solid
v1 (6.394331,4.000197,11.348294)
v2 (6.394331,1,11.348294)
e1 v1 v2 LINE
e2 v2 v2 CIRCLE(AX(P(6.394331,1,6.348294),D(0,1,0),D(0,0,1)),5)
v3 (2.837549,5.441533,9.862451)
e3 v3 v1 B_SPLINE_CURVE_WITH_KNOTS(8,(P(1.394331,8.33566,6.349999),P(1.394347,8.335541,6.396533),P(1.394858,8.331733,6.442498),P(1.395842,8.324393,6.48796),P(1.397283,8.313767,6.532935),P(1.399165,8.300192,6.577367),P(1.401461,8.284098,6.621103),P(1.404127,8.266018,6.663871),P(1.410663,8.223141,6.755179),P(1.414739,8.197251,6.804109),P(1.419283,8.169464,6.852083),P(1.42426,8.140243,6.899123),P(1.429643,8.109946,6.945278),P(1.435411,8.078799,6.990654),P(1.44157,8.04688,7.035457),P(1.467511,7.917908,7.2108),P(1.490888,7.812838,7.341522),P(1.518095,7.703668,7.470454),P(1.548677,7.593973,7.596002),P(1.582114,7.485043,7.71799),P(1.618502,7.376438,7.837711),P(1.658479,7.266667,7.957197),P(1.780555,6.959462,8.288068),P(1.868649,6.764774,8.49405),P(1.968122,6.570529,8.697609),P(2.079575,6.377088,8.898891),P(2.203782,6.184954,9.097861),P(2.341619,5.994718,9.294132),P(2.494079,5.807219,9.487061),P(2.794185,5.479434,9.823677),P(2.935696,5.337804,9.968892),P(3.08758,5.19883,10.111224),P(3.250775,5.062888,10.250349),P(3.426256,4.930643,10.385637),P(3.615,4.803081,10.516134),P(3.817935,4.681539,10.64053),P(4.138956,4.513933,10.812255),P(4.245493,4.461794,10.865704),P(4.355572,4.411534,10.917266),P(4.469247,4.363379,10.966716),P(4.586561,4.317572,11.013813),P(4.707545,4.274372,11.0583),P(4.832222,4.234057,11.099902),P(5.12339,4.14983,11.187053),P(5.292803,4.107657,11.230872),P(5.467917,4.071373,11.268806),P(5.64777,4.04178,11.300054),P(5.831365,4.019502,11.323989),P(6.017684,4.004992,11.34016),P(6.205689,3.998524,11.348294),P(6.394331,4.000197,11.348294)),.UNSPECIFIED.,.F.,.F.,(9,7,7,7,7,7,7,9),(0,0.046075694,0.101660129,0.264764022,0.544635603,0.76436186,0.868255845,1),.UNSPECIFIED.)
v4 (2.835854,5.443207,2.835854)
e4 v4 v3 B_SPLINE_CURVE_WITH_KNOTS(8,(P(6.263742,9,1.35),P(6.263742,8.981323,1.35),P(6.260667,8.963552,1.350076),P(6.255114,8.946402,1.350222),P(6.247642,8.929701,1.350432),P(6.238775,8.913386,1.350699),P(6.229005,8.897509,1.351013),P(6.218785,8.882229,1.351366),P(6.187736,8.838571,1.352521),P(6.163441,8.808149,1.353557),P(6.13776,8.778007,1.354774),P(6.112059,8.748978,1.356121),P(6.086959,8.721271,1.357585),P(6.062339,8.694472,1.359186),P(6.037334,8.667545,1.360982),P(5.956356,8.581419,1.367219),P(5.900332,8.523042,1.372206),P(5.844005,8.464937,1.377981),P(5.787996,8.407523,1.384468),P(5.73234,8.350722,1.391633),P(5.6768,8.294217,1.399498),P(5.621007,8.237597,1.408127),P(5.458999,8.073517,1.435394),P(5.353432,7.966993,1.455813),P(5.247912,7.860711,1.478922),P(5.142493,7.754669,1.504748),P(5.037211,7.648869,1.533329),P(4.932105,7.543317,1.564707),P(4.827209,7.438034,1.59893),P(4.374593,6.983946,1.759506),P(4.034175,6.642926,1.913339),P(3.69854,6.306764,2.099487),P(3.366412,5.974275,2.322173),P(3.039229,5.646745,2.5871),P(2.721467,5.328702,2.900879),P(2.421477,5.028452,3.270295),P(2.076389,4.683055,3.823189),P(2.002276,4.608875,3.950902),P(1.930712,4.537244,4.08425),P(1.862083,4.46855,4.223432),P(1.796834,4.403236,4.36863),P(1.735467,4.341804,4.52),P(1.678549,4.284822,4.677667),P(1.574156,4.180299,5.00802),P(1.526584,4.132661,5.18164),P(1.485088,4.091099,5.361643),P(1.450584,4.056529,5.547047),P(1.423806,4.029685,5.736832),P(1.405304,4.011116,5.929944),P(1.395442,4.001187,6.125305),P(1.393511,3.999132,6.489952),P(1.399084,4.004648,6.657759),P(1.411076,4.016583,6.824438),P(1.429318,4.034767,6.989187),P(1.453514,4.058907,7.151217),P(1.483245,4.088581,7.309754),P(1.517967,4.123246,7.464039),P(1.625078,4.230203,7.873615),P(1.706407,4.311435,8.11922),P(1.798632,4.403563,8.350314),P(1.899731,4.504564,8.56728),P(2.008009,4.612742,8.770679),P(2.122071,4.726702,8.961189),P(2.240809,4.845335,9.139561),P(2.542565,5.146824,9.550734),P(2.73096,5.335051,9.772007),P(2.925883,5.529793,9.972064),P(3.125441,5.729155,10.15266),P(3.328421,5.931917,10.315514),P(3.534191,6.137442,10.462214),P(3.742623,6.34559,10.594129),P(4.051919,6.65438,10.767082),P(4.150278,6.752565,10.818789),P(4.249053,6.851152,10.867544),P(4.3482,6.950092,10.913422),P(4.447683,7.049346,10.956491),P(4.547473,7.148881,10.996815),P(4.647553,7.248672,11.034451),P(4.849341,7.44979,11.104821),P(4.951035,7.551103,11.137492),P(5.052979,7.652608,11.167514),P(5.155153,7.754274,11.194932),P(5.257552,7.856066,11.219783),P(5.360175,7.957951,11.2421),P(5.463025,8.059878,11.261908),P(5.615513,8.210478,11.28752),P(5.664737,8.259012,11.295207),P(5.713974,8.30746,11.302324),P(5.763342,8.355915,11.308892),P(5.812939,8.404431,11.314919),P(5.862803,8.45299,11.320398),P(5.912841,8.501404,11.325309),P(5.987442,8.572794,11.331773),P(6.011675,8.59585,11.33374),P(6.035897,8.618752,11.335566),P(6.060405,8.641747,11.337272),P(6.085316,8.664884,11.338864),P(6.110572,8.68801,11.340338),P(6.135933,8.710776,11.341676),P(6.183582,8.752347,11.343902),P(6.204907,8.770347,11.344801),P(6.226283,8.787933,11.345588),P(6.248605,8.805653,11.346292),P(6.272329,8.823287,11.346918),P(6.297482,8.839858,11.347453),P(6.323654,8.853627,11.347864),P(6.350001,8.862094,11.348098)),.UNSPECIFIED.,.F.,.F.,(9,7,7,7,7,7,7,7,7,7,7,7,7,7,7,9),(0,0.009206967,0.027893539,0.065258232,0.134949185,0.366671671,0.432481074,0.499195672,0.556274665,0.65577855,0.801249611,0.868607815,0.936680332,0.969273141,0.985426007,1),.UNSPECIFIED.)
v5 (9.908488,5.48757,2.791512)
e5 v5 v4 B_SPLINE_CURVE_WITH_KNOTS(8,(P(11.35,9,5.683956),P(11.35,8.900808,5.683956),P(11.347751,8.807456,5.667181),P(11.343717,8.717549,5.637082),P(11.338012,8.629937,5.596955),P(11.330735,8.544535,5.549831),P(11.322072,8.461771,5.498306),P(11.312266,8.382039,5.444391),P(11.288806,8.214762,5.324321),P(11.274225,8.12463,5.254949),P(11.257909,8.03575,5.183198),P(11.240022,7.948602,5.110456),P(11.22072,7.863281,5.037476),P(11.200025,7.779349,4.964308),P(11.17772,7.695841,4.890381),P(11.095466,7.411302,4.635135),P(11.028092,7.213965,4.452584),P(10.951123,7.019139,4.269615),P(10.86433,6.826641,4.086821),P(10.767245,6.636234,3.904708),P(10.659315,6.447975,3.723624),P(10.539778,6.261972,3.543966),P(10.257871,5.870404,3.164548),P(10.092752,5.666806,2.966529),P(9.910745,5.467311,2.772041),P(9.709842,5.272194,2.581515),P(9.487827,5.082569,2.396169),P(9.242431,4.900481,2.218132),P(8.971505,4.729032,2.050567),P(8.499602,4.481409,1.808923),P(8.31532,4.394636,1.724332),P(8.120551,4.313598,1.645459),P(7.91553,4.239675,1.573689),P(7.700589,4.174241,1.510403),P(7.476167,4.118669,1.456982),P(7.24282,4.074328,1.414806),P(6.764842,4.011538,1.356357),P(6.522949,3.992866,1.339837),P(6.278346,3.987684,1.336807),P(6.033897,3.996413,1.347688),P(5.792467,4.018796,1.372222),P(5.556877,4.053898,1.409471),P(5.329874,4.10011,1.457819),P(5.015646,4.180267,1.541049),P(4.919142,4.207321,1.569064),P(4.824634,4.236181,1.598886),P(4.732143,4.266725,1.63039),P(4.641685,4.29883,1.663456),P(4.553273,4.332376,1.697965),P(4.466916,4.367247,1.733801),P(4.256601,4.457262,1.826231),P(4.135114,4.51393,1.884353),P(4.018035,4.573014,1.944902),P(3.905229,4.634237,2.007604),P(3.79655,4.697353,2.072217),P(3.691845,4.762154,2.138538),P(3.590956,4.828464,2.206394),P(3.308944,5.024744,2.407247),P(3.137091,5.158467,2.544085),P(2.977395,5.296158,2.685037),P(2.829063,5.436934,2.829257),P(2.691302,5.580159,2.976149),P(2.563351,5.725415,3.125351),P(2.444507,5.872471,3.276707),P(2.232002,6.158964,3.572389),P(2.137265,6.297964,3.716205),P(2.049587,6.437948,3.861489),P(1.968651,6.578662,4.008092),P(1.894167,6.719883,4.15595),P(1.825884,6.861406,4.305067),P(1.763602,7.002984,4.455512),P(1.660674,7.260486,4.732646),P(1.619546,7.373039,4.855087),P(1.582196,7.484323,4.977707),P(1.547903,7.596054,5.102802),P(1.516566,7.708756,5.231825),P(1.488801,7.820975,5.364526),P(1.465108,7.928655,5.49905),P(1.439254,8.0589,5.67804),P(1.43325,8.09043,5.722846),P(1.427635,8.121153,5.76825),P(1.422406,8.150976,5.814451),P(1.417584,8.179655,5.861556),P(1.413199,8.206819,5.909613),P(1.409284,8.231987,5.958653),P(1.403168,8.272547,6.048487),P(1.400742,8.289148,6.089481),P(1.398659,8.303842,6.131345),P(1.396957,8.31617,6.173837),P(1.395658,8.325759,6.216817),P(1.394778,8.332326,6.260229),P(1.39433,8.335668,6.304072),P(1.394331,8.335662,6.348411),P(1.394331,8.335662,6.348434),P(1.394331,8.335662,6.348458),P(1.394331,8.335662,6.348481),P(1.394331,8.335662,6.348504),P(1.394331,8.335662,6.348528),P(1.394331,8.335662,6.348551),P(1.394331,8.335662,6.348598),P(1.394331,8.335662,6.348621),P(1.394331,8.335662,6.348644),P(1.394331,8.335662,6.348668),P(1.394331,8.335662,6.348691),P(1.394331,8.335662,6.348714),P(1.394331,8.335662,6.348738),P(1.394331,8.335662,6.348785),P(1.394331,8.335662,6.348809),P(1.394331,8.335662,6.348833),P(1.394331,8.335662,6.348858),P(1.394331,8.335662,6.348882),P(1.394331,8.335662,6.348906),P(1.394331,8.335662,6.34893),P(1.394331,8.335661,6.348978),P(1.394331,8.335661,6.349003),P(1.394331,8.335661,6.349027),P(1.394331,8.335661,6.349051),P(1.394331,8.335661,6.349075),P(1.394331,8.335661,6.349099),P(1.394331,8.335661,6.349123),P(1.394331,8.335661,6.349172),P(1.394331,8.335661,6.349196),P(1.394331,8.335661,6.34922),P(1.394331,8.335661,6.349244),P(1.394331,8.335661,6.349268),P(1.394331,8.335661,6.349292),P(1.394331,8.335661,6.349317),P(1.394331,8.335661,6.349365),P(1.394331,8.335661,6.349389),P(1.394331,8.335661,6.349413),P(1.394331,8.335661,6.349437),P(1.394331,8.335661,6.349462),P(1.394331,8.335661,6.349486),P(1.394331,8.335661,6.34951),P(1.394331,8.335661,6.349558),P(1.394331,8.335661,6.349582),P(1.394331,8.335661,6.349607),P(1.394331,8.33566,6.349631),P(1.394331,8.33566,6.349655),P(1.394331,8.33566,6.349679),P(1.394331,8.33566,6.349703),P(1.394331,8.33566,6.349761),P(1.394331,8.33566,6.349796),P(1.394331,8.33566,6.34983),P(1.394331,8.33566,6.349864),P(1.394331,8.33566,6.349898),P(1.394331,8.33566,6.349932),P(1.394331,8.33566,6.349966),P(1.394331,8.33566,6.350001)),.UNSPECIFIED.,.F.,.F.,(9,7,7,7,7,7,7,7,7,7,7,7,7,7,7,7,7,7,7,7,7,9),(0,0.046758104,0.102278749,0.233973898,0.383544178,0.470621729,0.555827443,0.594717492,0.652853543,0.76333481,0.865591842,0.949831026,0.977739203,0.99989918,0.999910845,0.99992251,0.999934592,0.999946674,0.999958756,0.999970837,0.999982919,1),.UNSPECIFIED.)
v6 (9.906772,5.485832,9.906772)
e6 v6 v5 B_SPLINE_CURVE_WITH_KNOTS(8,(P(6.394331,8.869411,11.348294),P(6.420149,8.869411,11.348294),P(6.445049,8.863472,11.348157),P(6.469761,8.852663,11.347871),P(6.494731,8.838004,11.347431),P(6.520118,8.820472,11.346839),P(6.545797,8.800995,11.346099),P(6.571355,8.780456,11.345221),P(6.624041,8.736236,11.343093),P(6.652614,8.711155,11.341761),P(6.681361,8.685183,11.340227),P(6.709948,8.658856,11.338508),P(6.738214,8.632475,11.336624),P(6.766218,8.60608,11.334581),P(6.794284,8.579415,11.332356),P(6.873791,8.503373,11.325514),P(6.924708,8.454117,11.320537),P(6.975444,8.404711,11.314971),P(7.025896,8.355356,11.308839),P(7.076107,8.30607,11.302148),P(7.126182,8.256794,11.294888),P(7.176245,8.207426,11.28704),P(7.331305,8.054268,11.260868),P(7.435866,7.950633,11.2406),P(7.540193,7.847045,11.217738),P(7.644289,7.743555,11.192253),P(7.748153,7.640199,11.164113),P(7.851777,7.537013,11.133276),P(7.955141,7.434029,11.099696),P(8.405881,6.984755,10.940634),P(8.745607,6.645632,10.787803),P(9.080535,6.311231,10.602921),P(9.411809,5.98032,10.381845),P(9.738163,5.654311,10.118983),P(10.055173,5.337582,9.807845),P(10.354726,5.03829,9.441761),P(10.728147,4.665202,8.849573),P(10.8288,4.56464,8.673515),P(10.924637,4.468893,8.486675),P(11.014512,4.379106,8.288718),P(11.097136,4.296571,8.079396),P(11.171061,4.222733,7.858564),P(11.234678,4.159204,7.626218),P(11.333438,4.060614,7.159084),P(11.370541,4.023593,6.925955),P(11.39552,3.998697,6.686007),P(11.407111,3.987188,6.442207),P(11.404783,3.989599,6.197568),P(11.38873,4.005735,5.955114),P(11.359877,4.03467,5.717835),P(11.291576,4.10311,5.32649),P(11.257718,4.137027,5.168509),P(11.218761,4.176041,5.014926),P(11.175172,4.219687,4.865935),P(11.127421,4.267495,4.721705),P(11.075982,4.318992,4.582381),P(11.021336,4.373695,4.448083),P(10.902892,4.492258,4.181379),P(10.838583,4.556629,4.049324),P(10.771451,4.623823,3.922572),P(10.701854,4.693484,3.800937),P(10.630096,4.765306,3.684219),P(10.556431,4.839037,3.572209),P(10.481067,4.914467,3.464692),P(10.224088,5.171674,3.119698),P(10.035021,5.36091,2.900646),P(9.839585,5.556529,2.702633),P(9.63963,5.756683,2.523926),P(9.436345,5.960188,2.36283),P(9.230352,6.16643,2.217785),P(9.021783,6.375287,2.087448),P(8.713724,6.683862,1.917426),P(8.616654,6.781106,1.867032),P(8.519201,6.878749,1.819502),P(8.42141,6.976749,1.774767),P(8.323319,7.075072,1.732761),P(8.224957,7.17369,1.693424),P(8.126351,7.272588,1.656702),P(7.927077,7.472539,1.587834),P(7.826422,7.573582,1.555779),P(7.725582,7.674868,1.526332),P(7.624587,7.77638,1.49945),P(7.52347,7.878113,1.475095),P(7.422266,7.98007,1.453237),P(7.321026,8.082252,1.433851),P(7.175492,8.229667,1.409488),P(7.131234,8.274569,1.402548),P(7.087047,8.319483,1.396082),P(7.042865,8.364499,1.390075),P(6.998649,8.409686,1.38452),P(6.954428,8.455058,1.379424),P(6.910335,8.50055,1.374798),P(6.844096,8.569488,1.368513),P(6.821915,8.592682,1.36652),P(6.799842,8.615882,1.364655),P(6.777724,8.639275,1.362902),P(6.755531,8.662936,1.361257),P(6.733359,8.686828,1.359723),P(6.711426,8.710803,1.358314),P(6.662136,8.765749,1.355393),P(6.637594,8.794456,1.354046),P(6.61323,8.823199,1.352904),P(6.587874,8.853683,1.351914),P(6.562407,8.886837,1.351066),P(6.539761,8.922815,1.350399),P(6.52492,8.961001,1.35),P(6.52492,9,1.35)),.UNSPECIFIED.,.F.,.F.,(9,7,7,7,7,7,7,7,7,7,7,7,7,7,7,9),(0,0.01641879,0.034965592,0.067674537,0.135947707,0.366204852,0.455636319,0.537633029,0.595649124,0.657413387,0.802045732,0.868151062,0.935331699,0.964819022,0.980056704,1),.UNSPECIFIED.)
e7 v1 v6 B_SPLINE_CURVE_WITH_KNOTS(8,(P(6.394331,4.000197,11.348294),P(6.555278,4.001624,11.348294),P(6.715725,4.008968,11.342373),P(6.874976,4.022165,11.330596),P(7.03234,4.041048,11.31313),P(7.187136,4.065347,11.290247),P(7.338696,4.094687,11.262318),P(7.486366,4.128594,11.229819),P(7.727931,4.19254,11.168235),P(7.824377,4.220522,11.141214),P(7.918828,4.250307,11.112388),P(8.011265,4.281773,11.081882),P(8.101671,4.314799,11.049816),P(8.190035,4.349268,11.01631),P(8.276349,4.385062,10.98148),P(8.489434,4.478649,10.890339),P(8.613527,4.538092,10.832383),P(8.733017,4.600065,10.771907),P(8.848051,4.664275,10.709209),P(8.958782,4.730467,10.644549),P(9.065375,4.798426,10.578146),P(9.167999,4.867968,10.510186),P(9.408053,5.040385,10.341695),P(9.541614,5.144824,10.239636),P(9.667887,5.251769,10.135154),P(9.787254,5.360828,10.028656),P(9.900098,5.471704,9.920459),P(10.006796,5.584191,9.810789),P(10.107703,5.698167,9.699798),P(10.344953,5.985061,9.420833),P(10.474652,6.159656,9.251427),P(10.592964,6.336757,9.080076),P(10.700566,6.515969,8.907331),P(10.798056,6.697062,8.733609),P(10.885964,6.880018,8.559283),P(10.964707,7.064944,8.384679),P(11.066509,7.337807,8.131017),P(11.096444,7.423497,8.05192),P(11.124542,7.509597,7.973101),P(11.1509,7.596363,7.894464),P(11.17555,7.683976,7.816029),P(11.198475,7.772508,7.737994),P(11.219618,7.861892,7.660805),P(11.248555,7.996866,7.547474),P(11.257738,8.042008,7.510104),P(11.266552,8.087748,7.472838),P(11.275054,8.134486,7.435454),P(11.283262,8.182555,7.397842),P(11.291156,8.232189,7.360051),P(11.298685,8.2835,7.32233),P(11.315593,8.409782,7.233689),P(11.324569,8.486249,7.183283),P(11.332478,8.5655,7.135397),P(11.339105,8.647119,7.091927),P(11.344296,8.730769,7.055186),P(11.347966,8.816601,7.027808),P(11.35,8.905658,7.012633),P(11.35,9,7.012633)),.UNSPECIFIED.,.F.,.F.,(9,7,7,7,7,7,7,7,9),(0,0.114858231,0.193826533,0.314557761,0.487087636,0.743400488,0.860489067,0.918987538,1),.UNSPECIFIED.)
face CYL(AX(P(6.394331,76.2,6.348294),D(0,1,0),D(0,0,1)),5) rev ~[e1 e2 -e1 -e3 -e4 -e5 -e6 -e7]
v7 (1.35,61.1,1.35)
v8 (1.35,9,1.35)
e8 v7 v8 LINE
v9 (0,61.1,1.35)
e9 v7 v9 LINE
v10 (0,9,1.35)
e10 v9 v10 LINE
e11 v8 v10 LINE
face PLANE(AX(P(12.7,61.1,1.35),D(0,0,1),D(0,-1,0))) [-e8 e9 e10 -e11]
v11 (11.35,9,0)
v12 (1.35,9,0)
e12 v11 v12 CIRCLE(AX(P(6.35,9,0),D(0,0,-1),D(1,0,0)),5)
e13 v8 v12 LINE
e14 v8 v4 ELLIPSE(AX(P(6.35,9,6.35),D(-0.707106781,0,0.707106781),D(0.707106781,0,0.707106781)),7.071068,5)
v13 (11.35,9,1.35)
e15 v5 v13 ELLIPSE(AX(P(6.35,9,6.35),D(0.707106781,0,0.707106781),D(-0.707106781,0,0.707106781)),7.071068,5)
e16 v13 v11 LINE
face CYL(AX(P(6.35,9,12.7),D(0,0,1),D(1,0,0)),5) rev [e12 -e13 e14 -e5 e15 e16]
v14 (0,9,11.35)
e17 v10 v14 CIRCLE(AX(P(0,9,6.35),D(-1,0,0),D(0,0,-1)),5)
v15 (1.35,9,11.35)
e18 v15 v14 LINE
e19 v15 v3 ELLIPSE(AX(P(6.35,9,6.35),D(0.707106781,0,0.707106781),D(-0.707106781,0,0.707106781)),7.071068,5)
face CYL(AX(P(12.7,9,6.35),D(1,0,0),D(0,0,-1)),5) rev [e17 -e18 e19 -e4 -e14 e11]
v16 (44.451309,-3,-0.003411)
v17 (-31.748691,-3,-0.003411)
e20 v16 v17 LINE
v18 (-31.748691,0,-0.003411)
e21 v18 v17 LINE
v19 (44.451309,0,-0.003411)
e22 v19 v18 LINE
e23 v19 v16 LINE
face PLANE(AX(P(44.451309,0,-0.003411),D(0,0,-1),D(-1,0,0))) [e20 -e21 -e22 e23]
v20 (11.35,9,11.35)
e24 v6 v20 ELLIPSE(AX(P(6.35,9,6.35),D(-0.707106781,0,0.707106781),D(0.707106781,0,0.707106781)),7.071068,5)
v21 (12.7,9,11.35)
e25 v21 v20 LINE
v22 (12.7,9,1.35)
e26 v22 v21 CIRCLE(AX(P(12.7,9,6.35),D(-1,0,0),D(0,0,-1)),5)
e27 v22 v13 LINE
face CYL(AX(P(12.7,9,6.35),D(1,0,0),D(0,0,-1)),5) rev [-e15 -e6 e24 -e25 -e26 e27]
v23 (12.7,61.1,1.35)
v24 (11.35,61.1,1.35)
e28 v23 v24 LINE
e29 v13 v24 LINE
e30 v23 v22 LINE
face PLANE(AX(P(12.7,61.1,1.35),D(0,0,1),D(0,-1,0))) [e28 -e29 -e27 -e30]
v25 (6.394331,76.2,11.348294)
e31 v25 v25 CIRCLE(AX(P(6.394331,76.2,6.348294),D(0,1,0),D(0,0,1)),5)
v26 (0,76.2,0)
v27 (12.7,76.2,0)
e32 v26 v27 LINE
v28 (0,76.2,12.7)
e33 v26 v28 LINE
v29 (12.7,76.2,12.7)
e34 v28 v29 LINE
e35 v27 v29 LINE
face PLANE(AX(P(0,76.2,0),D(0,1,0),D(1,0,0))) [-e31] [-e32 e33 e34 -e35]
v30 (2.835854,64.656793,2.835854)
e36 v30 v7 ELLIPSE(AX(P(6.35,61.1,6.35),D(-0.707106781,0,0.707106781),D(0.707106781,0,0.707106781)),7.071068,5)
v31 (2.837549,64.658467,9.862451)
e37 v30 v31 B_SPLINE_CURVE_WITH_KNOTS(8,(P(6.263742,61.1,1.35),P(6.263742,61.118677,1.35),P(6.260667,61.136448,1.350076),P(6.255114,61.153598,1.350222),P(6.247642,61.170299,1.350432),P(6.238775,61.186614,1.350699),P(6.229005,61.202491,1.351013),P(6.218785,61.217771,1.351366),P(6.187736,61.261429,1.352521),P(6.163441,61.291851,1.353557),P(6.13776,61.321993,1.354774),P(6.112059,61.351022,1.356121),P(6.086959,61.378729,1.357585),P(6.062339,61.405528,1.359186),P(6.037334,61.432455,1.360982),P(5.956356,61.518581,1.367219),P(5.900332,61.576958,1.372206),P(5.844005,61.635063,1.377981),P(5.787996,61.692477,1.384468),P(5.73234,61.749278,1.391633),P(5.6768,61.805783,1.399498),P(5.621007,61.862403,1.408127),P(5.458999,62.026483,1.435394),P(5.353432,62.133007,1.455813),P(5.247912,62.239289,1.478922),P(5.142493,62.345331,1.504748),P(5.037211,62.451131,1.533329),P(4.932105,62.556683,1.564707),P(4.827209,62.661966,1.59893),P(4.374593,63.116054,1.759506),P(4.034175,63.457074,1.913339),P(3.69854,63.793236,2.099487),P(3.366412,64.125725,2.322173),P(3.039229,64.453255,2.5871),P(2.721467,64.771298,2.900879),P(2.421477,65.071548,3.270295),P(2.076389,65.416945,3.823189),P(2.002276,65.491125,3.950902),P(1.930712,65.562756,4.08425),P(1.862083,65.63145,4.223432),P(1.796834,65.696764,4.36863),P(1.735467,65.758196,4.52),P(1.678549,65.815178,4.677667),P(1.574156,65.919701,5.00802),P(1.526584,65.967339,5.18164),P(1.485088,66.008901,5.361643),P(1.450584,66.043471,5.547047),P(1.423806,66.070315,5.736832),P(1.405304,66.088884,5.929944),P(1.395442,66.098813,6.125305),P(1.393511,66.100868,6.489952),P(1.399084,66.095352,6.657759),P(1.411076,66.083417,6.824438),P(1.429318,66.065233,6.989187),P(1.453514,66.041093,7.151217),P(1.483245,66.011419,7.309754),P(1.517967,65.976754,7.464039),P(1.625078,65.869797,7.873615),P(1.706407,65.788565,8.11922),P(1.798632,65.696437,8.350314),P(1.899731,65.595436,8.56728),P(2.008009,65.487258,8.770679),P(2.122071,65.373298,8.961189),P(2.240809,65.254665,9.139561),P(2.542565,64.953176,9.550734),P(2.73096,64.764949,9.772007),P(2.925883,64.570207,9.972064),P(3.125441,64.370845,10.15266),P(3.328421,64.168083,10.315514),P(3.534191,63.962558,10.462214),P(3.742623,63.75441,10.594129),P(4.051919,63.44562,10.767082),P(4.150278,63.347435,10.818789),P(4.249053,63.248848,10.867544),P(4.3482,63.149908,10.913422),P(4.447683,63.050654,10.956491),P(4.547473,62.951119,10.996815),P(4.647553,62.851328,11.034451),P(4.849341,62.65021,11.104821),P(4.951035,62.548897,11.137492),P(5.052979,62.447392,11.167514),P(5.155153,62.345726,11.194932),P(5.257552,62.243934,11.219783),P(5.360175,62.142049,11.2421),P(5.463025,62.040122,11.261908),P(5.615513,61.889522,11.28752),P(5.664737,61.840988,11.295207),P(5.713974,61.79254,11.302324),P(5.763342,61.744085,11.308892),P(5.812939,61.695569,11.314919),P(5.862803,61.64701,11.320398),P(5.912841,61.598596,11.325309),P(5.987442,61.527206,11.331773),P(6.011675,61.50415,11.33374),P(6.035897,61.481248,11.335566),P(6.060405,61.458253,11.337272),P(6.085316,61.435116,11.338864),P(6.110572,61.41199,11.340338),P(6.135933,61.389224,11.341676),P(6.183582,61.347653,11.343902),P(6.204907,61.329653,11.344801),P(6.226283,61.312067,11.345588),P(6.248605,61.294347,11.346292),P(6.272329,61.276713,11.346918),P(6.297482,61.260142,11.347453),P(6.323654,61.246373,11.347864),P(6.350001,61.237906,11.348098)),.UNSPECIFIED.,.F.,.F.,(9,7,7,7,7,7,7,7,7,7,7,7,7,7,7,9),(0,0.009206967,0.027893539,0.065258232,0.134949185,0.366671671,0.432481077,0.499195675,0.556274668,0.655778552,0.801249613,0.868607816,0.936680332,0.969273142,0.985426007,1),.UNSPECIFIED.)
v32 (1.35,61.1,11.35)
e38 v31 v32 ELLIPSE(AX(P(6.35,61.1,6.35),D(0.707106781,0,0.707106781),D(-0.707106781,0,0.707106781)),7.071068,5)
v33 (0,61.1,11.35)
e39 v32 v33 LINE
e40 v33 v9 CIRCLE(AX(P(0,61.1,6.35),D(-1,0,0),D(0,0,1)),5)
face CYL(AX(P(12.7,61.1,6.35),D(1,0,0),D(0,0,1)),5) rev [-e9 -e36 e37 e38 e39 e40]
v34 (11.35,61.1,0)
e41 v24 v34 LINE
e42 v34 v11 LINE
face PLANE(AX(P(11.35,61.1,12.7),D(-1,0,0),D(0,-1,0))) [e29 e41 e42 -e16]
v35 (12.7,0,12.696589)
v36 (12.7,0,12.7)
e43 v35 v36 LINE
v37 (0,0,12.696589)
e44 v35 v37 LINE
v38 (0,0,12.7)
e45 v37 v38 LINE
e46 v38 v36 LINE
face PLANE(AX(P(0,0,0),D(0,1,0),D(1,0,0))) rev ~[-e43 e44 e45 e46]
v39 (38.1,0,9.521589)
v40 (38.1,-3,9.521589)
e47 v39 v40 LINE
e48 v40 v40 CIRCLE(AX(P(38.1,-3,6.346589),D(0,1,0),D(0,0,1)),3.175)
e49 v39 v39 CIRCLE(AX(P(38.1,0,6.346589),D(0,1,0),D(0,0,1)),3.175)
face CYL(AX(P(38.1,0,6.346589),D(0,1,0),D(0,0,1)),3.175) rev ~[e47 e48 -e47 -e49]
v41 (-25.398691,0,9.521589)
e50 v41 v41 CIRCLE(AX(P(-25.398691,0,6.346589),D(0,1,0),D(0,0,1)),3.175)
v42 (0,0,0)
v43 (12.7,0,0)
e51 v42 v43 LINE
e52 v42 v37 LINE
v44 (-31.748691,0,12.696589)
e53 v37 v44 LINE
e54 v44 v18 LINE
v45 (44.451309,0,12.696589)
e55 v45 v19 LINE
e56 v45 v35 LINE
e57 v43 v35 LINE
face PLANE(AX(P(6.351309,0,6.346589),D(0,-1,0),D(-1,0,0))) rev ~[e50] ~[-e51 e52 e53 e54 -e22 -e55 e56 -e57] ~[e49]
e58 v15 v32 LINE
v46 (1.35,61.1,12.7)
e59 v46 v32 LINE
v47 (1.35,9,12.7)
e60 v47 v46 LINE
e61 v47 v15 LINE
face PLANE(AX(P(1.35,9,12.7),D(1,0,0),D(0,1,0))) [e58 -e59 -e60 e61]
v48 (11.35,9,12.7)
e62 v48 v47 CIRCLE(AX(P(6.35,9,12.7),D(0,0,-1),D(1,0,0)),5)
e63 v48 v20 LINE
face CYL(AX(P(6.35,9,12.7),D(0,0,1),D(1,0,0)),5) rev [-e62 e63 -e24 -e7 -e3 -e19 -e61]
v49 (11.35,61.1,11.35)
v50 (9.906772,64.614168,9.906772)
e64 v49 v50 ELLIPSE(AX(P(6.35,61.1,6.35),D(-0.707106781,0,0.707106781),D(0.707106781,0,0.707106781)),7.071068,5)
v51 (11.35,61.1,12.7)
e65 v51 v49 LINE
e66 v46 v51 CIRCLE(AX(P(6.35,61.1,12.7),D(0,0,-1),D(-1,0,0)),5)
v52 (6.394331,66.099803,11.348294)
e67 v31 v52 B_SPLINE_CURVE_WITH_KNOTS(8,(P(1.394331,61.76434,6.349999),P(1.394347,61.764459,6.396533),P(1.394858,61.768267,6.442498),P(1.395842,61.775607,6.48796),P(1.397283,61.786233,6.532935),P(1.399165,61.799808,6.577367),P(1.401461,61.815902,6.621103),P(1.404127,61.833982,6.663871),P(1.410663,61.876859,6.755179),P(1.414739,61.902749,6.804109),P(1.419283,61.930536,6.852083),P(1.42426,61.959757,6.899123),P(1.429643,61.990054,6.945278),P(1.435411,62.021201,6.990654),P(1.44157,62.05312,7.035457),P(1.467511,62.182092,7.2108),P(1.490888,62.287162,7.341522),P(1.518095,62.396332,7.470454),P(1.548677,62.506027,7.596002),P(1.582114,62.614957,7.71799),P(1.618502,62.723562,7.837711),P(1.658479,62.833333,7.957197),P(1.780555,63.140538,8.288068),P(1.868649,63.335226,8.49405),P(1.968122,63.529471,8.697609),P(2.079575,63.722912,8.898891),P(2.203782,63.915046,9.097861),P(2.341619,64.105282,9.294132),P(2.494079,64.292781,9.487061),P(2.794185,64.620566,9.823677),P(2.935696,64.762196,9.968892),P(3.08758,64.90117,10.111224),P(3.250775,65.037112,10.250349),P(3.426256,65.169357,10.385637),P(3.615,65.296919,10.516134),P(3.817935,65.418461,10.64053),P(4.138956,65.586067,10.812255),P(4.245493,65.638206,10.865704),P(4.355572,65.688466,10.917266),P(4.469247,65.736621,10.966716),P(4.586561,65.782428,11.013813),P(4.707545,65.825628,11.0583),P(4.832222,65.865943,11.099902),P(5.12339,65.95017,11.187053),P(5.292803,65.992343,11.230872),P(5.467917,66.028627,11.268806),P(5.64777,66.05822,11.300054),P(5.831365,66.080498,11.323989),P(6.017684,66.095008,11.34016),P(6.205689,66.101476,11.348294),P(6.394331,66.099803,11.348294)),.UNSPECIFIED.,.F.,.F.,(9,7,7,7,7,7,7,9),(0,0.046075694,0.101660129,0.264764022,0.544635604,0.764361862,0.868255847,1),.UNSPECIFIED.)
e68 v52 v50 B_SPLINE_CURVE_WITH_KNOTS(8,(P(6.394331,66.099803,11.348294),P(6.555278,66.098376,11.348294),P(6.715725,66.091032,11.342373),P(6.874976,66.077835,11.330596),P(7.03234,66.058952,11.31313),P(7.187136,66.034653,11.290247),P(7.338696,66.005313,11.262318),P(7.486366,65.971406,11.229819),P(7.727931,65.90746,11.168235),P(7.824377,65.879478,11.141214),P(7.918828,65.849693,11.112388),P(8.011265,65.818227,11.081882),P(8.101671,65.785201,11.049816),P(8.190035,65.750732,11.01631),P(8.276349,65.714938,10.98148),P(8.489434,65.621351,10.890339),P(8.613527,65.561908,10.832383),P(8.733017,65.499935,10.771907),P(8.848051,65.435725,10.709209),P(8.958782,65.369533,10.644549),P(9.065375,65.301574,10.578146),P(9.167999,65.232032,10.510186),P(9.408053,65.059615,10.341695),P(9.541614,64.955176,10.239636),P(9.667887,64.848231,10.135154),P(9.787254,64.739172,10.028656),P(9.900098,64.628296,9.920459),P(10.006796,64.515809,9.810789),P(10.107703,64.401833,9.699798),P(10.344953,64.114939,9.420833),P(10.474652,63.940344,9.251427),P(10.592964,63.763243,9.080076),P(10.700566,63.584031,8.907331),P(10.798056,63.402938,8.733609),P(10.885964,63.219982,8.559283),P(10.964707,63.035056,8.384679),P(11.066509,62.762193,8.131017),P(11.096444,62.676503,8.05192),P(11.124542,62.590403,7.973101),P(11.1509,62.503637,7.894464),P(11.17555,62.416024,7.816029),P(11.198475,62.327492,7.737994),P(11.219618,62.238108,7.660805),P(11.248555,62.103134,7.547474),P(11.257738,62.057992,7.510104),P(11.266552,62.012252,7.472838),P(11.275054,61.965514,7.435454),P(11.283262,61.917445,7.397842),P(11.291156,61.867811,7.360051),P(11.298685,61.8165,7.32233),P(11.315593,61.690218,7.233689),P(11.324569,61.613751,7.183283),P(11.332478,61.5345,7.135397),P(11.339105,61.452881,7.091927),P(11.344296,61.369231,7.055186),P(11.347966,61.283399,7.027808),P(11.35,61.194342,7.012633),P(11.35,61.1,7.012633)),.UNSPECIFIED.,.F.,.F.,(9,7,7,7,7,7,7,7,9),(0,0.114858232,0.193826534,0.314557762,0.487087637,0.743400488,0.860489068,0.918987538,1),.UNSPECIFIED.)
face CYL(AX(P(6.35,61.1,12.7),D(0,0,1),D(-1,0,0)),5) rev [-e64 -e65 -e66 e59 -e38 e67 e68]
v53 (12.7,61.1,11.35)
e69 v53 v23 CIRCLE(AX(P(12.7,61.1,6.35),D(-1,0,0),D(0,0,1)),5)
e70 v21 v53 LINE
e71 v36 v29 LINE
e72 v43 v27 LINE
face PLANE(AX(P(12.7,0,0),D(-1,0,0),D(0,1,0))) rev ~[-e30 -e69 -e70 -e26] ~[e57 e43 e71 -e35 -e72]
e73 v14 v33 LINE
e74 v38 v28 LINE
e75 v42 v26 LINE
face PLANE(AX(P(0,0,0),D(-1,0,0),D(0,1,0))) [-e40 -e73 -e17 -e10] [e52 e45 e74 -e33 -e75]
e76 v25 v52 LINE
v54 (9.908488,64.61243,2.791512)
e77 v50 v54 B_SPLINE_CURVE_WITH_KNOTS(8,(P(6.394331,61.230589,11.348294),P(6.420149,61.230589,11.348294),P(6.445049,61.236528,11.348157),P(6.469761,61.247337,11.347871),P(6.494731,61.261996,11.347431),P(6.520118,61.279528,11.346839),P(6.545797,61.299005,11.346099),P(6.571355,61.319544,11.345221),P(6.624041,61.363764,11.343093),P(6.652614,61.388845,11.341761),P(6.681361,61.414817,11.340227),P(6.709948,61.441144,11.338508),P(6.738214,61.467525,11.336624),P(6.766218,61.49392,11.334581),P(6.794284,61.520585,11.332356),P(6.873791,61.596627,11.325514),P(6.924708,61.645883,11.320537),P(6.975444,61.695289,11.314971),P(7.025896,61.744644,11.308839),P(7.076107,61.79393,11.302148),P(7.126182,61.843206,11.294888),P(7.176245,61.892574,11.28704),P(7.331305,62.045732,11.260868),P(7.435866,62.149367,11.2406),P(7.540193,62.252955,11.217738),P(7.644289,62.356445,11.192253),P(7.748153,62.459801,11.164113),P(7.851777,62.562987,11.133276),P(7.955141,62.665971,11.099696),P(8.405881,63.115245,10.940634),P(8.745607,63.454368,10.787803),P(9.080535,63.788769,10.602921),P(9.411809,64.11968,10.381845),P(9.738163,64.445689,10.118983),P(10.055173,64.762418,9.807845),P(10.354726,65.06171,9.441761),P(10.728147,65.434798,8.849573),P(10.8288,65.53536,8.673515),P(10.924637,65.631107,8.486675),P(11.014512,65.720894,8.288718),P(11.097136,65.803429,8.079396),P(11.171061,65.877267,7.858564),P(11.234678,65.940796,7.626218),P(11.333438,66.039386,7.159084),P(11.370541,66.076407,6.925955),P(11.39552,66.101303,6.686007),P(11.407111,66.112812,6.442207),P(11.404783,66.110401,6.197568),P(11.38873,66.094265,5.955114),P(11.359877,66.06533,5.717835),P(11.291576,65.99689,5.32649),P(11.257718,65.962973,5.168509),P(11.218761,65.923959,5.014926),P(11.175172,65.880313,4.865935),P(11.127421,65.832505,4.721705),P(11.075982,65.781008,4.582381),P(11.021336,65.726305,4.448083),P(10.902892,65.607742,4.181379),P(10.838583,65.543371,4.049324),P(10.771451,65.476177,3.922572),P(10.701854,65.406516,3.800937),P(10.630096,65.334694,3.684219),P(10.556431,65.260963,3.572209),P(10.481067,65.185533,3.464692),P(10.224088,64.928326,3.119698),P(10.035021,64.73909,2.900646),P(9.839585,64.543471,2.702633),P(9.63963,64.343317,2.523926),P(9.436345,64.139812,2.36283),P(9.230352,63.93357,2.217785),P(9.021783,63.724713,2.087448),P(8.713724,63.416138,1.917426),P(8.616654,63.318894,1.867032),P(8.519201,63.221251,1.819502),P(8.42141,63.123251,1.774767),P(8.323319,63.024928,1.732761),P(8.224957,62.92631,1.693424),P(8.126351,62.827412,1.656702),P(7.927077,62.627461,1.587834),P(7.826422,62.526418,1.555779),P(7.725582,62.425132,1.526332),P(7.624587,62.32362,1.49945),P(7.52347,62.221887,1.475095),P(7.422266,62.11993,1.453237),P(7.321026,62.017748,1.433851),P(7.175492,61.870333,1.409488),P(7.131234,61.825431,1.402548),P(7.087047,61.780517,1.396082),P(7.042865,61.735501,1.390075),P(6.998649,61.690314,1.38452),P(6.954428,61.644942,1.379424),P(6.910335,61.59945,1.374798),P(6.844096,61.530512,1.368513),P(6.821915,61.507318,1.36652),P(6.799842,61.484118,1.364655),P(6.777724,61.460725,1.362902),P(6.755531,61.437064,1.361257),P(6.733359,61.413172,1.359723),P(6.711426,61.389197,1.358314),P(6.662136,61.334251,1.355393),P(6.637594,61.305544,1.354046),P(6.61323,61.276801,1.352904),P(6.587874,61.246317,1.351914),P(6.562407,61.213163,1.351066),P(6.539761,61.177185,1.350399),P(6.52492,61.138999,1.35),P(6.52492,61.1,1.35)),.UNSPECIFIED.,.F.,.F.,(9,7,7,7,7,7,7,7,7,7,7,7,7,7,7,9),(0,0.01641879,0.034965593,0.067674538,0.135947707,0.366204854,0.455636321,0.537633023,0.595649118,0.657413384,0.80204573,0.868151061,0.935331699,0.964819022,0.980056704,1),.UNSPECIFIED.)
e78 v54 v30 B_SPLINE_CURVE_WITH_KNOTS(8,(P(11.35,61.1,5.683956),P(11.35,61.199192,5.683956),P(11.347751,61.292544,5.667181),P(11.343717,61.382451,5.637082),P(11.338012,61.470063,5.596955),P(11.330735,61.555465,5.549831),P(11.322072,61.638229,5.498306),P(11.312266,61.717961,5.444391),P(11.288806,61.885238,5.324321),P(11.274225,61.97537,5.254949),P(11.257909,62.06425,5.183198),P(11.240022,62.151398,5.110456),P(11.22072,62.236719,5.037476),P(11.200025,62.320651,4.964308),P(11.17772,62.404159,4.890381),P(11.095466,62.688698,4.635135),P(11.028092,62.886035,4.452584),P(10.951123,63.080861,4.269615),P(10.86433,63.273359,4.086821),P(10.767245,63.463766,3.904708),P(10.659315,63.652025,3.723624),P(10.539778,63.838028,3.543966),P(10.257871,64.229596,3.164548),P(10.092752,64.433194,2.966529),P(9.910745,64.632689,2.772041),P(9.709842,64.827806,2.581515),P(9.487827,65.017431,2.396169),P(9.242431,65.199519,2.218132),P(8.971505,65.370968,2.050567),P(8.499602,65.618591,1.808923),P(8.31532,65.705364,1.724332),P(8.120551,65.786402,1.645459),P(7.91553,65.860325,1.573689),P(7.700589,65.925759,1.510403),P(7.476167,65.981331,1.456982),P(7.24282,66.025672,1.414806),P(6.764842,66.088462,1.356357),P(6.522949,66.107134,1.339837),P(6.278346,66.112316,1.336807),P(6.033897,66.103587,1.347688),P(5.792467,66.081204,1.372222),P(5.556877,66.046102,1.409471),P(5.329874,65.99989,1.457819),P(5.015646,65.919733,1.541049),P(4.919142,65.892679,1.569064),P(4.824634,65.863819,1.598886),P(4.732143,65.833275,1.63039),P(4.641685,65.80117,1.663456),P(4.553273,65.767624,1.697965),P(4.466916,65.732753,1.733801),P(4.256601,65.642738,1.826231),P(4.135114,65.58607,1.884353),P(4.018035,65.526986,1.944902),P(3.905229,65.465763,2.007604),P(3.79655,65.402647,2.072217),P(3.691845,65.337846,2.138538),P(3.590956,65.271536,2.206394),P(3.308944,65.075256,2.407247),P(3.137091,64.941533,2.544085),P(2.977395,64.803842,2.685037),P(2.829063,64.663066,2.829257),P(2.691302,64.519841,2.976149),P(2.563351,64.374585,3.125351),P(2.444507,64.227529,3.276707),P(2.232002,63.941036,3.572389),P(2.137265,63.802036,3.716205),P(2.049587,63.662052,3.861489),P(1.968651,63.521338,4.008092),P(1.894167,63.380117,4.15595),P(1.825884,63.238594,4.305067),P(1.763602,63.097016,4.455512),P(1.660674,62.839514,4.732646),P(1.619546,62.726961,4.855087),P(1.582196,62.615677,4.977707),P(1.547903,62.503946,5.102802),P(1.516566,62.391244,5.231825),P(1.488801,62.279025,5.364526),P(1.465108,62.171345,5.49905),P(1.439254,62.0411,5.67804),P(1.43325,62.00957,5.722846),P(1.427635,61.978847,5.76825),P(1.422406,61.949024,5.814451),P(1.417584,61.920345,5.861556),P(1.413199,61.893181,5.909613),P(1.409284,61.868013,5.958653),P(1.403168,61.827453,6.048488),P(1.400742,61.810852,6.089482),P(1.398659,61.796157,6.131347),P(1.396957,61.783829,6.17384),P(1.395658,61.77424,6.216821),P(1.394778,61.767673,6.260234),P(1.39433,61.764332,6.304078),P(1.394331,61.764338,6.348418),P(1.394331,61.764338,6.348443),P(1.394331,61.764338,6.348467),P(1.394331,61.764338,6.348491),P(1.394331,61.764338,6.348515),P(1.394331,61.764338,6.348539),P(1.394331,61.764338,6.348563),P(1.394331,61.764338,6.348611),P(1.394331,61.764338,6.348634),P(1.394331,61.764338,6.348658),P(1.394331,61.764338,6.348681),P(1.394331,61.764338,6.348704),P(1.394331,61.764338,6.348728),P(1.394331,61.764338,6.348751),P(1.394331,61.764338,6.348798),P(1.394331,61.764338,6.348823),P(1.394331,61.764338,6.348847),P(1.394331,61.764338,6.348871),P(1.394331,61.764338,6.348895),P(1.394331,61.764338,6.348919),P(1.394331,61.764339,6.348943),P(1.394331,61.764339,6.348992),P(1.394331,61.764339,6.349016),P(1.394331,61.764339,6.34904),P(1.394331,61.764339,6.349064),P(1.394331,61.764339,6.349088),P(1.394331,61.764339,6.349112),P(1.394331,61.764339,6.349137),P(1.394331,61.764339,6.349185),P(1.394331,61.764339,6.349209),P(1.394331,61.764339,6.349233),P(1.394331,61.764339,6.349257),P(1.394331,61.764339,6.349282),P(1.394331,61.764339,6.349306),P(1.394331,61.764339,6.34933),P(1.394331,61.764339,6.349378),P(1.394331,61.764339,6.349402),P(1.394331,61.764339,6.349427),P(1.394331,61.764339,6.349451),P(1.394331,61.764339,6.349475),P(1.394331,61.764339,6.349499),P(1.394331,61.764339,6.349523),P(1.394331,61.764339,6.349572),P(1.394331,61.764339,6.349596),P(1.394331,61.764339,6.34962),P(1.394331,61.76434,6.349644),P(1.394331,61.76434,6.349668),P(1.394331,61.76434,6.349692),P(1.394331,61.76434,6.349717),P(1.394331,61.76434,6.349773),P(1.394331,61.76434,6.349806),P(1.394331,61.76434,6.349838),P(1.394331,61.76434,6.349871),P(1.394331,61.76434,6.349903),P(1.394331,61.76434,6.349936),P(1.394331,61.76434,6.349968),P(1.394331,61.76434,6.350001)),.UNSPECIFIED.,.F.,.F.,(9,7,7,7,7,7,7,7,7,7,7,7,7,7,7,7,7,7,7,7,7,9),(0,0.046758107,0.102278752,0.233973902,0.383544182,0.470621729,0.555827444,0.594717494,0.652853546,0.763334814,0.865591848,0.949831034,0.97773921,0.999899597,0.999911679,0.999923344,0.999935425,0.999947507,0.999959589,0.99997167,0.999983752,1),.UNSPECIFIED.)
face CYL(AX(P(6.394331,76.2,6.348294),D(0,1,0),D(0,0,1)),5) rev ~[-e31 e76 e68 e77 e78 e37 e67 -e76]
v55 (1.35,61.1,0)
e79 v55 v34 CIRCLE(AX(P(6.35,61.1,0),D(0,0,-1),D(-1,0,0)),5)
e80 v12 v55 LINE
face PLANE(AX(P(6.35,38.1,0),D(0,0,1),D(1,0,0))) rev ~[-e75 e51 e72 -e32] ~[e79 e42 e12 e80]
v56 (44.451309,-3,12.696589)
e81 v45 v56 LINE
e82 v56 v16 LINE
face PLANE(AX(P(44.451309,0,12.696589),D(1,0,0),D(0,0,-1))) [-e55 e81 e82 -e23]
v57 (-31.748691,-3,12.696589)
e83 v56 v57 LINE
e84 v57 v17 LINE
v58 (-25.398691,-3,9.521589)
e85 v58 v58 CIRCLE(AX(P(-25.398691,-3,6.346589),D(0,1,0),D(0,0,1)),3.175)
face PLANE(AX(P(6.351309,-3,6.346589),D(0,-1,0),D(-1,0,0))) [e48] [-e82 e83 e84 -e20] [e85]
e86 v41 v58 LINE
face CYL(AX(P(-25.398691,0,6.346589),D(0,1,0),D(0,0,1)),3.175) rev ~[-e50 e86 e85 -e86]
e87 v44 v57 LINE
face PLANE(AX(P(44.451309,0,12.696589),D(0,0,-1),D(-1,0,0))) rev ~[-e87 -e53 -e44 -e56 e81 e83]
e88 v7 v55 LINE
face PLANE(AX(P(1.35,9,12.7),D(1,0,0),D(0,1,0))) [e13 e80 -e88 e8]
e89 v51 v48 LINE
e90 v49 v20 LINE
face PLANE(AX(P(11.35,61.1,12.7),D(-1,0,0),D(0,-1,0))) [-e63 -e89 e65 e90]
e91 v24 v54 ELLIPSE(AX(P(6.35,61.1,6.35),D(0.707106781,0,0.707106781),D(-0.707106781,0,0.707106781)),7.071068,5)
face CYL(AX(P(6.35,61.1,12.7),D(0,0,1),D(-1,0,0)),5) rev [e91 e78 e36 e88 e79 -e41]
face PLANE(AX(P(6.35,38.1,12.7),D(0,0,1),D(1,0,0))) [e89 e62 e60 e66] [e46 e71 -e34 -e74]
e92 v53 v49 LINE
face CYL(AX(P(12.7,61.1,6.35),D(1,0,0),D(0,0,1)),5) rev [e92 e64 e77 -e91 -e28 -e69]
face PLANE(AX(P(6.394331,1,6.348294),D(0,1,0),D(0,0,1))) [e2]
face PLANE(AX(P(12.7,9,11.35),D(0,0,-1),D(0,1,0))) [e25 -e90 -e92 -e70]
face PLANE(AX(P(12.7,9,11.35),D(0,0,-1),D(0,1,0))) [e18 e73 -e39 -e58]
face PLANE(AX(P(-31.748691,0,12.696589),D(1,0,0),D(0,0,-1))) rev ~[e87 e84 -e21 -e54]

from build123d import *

# Parameters (mm, degrees)
SKETCH1_W           = 12.7
SKETCH1_H           = 76.2
BOSS_EXTRUDE1_DEPTH = 12.7
SKETCH4_W           = 76.2
SKETCH4_H           = 12.7
BOSS_EXTRUDE3_DEPTH = 3
CUT_EXTRUDE5_DEPTH  = 12.7
CUT_EXTRUDE6_DEPTH  = 12.7
SKETCH16_R          = 5
CUT_EXTRUDE8_DEPTH  = 75.2
SKETCH17_R          = 3.175
CUT_EXTRUDE9_DEPTH  = 3
SKETCH18_R          = 3.175
CUT_EXTRUDE10_DEPTH = 3


with BuildPart() as part:
    # Sketch1 → Boss-Extrude1 (new body)
    with BuildSketch(Plane.XY):
        with Locations((6.35, 38.1)):
            Rectangle(SKETCH1_W, SKETCH1_H)
    extrude(amount=BOSS_EXTRUDE1_DEPTH)

    # Sketch4 → Boss-Extrude3 (add)
    with BuildSketch(Plane(origin=(0, 0, 0), x_dir=(-1, 0, 0), z_dir=(0, -1, 0))):
        with Locations((-6.351309366, -6.3465887)):
            Rectangle(SKETCH4_W, SKETCH4_H)
    extrude(amount=BOSS_EXTRUDE3_DEPTH)

    # Sketch12 → Cut-Extrude5 (cut)
    with BuildSketch(Plane.XY.offset(12.7)):
        with BuildLine():
            Line((1.35, 9), (1.35, 61.1))
            ThreePointArc((1.35, 61.1), (6.35, 66.1), (11.35, 61.1))
            Line((11.35, 61.1), (11.35, 9))
            ThreePointArc((11.35, 9), (6.35, 4), (1.35, 9))
        make_face()
    extrude(amount=-CUT_EXTRUDE5_DEPTH, mode=Mode.SUBTRACT)

    # Sketch13 → Cut-Extrude6 (cut)
    with BuildSketch(Plane(origin=(12.7, 0, 0), x_dir=(0, 0, -1), z_dir=(1, 0, 0))):
        with BuildLine():
            Line((-11.35, 9), (-11.35, 61.1))
            ThreePointArc((-11.35, 61.1), (-6.35, 66.1), (-1.35, 61.1))
            Line((-1.35, 61.1), (-1.35, 9))
            ThreePointArc((-1.35, 9), (-6.35, 4), (-11.35, 9))
        make_face()
    extrude(amount=-CUT_EXTRUDE6_DEPTH, mode=Mode.SUBTRACT)

    # Sketch16 → Cut-Extrude8 (cut)
    with BuildSketch(Plane(origin=(0, 76.2, 0), x_dir=(1, 0, 0), z_dir=(0, 1, 0))):
        with Locations(Location((6.394331047, -6.34829435, 0), (0, 0, 270))):
            Circle(SKETCH16_R)
    extrude(amount=-CUT_EXTRUDE8_DEPTH, mode=Mode.SUBTRACT)

    # Sketch17 → Cut-Extrude9 (cut)
    with BuildSketch(Plane(origin=(0, 0, 0), x_dir=(1, 0, 0), z_dir=(0, 1, 0))):
        with Locations(Location((-25.398690634, -6.3465887, 0), (0, 0, 270))):
            Circle(SKETCH17_R)
    extrude(amount=-CUT_EXTRUDE9_DEPTH, mode=Mode.SUBTRACT)

    # Sketch18 → Cut-Extrude10 (cut)
    with BuildSketch(Plane(origin=(0, 0, 0), x_dir=(1, 0, 0), z_dir=(0, 1, 0))):
        with Locations(Location((38.1, -6.3465887, 0), (0, 0, 270))):
            Circle(SKETCH18_R)
    extrude(amount=-CUT_EXTRUDE10_DEPTH, mode=Mode.SUBTRACT)


solid = part.part
